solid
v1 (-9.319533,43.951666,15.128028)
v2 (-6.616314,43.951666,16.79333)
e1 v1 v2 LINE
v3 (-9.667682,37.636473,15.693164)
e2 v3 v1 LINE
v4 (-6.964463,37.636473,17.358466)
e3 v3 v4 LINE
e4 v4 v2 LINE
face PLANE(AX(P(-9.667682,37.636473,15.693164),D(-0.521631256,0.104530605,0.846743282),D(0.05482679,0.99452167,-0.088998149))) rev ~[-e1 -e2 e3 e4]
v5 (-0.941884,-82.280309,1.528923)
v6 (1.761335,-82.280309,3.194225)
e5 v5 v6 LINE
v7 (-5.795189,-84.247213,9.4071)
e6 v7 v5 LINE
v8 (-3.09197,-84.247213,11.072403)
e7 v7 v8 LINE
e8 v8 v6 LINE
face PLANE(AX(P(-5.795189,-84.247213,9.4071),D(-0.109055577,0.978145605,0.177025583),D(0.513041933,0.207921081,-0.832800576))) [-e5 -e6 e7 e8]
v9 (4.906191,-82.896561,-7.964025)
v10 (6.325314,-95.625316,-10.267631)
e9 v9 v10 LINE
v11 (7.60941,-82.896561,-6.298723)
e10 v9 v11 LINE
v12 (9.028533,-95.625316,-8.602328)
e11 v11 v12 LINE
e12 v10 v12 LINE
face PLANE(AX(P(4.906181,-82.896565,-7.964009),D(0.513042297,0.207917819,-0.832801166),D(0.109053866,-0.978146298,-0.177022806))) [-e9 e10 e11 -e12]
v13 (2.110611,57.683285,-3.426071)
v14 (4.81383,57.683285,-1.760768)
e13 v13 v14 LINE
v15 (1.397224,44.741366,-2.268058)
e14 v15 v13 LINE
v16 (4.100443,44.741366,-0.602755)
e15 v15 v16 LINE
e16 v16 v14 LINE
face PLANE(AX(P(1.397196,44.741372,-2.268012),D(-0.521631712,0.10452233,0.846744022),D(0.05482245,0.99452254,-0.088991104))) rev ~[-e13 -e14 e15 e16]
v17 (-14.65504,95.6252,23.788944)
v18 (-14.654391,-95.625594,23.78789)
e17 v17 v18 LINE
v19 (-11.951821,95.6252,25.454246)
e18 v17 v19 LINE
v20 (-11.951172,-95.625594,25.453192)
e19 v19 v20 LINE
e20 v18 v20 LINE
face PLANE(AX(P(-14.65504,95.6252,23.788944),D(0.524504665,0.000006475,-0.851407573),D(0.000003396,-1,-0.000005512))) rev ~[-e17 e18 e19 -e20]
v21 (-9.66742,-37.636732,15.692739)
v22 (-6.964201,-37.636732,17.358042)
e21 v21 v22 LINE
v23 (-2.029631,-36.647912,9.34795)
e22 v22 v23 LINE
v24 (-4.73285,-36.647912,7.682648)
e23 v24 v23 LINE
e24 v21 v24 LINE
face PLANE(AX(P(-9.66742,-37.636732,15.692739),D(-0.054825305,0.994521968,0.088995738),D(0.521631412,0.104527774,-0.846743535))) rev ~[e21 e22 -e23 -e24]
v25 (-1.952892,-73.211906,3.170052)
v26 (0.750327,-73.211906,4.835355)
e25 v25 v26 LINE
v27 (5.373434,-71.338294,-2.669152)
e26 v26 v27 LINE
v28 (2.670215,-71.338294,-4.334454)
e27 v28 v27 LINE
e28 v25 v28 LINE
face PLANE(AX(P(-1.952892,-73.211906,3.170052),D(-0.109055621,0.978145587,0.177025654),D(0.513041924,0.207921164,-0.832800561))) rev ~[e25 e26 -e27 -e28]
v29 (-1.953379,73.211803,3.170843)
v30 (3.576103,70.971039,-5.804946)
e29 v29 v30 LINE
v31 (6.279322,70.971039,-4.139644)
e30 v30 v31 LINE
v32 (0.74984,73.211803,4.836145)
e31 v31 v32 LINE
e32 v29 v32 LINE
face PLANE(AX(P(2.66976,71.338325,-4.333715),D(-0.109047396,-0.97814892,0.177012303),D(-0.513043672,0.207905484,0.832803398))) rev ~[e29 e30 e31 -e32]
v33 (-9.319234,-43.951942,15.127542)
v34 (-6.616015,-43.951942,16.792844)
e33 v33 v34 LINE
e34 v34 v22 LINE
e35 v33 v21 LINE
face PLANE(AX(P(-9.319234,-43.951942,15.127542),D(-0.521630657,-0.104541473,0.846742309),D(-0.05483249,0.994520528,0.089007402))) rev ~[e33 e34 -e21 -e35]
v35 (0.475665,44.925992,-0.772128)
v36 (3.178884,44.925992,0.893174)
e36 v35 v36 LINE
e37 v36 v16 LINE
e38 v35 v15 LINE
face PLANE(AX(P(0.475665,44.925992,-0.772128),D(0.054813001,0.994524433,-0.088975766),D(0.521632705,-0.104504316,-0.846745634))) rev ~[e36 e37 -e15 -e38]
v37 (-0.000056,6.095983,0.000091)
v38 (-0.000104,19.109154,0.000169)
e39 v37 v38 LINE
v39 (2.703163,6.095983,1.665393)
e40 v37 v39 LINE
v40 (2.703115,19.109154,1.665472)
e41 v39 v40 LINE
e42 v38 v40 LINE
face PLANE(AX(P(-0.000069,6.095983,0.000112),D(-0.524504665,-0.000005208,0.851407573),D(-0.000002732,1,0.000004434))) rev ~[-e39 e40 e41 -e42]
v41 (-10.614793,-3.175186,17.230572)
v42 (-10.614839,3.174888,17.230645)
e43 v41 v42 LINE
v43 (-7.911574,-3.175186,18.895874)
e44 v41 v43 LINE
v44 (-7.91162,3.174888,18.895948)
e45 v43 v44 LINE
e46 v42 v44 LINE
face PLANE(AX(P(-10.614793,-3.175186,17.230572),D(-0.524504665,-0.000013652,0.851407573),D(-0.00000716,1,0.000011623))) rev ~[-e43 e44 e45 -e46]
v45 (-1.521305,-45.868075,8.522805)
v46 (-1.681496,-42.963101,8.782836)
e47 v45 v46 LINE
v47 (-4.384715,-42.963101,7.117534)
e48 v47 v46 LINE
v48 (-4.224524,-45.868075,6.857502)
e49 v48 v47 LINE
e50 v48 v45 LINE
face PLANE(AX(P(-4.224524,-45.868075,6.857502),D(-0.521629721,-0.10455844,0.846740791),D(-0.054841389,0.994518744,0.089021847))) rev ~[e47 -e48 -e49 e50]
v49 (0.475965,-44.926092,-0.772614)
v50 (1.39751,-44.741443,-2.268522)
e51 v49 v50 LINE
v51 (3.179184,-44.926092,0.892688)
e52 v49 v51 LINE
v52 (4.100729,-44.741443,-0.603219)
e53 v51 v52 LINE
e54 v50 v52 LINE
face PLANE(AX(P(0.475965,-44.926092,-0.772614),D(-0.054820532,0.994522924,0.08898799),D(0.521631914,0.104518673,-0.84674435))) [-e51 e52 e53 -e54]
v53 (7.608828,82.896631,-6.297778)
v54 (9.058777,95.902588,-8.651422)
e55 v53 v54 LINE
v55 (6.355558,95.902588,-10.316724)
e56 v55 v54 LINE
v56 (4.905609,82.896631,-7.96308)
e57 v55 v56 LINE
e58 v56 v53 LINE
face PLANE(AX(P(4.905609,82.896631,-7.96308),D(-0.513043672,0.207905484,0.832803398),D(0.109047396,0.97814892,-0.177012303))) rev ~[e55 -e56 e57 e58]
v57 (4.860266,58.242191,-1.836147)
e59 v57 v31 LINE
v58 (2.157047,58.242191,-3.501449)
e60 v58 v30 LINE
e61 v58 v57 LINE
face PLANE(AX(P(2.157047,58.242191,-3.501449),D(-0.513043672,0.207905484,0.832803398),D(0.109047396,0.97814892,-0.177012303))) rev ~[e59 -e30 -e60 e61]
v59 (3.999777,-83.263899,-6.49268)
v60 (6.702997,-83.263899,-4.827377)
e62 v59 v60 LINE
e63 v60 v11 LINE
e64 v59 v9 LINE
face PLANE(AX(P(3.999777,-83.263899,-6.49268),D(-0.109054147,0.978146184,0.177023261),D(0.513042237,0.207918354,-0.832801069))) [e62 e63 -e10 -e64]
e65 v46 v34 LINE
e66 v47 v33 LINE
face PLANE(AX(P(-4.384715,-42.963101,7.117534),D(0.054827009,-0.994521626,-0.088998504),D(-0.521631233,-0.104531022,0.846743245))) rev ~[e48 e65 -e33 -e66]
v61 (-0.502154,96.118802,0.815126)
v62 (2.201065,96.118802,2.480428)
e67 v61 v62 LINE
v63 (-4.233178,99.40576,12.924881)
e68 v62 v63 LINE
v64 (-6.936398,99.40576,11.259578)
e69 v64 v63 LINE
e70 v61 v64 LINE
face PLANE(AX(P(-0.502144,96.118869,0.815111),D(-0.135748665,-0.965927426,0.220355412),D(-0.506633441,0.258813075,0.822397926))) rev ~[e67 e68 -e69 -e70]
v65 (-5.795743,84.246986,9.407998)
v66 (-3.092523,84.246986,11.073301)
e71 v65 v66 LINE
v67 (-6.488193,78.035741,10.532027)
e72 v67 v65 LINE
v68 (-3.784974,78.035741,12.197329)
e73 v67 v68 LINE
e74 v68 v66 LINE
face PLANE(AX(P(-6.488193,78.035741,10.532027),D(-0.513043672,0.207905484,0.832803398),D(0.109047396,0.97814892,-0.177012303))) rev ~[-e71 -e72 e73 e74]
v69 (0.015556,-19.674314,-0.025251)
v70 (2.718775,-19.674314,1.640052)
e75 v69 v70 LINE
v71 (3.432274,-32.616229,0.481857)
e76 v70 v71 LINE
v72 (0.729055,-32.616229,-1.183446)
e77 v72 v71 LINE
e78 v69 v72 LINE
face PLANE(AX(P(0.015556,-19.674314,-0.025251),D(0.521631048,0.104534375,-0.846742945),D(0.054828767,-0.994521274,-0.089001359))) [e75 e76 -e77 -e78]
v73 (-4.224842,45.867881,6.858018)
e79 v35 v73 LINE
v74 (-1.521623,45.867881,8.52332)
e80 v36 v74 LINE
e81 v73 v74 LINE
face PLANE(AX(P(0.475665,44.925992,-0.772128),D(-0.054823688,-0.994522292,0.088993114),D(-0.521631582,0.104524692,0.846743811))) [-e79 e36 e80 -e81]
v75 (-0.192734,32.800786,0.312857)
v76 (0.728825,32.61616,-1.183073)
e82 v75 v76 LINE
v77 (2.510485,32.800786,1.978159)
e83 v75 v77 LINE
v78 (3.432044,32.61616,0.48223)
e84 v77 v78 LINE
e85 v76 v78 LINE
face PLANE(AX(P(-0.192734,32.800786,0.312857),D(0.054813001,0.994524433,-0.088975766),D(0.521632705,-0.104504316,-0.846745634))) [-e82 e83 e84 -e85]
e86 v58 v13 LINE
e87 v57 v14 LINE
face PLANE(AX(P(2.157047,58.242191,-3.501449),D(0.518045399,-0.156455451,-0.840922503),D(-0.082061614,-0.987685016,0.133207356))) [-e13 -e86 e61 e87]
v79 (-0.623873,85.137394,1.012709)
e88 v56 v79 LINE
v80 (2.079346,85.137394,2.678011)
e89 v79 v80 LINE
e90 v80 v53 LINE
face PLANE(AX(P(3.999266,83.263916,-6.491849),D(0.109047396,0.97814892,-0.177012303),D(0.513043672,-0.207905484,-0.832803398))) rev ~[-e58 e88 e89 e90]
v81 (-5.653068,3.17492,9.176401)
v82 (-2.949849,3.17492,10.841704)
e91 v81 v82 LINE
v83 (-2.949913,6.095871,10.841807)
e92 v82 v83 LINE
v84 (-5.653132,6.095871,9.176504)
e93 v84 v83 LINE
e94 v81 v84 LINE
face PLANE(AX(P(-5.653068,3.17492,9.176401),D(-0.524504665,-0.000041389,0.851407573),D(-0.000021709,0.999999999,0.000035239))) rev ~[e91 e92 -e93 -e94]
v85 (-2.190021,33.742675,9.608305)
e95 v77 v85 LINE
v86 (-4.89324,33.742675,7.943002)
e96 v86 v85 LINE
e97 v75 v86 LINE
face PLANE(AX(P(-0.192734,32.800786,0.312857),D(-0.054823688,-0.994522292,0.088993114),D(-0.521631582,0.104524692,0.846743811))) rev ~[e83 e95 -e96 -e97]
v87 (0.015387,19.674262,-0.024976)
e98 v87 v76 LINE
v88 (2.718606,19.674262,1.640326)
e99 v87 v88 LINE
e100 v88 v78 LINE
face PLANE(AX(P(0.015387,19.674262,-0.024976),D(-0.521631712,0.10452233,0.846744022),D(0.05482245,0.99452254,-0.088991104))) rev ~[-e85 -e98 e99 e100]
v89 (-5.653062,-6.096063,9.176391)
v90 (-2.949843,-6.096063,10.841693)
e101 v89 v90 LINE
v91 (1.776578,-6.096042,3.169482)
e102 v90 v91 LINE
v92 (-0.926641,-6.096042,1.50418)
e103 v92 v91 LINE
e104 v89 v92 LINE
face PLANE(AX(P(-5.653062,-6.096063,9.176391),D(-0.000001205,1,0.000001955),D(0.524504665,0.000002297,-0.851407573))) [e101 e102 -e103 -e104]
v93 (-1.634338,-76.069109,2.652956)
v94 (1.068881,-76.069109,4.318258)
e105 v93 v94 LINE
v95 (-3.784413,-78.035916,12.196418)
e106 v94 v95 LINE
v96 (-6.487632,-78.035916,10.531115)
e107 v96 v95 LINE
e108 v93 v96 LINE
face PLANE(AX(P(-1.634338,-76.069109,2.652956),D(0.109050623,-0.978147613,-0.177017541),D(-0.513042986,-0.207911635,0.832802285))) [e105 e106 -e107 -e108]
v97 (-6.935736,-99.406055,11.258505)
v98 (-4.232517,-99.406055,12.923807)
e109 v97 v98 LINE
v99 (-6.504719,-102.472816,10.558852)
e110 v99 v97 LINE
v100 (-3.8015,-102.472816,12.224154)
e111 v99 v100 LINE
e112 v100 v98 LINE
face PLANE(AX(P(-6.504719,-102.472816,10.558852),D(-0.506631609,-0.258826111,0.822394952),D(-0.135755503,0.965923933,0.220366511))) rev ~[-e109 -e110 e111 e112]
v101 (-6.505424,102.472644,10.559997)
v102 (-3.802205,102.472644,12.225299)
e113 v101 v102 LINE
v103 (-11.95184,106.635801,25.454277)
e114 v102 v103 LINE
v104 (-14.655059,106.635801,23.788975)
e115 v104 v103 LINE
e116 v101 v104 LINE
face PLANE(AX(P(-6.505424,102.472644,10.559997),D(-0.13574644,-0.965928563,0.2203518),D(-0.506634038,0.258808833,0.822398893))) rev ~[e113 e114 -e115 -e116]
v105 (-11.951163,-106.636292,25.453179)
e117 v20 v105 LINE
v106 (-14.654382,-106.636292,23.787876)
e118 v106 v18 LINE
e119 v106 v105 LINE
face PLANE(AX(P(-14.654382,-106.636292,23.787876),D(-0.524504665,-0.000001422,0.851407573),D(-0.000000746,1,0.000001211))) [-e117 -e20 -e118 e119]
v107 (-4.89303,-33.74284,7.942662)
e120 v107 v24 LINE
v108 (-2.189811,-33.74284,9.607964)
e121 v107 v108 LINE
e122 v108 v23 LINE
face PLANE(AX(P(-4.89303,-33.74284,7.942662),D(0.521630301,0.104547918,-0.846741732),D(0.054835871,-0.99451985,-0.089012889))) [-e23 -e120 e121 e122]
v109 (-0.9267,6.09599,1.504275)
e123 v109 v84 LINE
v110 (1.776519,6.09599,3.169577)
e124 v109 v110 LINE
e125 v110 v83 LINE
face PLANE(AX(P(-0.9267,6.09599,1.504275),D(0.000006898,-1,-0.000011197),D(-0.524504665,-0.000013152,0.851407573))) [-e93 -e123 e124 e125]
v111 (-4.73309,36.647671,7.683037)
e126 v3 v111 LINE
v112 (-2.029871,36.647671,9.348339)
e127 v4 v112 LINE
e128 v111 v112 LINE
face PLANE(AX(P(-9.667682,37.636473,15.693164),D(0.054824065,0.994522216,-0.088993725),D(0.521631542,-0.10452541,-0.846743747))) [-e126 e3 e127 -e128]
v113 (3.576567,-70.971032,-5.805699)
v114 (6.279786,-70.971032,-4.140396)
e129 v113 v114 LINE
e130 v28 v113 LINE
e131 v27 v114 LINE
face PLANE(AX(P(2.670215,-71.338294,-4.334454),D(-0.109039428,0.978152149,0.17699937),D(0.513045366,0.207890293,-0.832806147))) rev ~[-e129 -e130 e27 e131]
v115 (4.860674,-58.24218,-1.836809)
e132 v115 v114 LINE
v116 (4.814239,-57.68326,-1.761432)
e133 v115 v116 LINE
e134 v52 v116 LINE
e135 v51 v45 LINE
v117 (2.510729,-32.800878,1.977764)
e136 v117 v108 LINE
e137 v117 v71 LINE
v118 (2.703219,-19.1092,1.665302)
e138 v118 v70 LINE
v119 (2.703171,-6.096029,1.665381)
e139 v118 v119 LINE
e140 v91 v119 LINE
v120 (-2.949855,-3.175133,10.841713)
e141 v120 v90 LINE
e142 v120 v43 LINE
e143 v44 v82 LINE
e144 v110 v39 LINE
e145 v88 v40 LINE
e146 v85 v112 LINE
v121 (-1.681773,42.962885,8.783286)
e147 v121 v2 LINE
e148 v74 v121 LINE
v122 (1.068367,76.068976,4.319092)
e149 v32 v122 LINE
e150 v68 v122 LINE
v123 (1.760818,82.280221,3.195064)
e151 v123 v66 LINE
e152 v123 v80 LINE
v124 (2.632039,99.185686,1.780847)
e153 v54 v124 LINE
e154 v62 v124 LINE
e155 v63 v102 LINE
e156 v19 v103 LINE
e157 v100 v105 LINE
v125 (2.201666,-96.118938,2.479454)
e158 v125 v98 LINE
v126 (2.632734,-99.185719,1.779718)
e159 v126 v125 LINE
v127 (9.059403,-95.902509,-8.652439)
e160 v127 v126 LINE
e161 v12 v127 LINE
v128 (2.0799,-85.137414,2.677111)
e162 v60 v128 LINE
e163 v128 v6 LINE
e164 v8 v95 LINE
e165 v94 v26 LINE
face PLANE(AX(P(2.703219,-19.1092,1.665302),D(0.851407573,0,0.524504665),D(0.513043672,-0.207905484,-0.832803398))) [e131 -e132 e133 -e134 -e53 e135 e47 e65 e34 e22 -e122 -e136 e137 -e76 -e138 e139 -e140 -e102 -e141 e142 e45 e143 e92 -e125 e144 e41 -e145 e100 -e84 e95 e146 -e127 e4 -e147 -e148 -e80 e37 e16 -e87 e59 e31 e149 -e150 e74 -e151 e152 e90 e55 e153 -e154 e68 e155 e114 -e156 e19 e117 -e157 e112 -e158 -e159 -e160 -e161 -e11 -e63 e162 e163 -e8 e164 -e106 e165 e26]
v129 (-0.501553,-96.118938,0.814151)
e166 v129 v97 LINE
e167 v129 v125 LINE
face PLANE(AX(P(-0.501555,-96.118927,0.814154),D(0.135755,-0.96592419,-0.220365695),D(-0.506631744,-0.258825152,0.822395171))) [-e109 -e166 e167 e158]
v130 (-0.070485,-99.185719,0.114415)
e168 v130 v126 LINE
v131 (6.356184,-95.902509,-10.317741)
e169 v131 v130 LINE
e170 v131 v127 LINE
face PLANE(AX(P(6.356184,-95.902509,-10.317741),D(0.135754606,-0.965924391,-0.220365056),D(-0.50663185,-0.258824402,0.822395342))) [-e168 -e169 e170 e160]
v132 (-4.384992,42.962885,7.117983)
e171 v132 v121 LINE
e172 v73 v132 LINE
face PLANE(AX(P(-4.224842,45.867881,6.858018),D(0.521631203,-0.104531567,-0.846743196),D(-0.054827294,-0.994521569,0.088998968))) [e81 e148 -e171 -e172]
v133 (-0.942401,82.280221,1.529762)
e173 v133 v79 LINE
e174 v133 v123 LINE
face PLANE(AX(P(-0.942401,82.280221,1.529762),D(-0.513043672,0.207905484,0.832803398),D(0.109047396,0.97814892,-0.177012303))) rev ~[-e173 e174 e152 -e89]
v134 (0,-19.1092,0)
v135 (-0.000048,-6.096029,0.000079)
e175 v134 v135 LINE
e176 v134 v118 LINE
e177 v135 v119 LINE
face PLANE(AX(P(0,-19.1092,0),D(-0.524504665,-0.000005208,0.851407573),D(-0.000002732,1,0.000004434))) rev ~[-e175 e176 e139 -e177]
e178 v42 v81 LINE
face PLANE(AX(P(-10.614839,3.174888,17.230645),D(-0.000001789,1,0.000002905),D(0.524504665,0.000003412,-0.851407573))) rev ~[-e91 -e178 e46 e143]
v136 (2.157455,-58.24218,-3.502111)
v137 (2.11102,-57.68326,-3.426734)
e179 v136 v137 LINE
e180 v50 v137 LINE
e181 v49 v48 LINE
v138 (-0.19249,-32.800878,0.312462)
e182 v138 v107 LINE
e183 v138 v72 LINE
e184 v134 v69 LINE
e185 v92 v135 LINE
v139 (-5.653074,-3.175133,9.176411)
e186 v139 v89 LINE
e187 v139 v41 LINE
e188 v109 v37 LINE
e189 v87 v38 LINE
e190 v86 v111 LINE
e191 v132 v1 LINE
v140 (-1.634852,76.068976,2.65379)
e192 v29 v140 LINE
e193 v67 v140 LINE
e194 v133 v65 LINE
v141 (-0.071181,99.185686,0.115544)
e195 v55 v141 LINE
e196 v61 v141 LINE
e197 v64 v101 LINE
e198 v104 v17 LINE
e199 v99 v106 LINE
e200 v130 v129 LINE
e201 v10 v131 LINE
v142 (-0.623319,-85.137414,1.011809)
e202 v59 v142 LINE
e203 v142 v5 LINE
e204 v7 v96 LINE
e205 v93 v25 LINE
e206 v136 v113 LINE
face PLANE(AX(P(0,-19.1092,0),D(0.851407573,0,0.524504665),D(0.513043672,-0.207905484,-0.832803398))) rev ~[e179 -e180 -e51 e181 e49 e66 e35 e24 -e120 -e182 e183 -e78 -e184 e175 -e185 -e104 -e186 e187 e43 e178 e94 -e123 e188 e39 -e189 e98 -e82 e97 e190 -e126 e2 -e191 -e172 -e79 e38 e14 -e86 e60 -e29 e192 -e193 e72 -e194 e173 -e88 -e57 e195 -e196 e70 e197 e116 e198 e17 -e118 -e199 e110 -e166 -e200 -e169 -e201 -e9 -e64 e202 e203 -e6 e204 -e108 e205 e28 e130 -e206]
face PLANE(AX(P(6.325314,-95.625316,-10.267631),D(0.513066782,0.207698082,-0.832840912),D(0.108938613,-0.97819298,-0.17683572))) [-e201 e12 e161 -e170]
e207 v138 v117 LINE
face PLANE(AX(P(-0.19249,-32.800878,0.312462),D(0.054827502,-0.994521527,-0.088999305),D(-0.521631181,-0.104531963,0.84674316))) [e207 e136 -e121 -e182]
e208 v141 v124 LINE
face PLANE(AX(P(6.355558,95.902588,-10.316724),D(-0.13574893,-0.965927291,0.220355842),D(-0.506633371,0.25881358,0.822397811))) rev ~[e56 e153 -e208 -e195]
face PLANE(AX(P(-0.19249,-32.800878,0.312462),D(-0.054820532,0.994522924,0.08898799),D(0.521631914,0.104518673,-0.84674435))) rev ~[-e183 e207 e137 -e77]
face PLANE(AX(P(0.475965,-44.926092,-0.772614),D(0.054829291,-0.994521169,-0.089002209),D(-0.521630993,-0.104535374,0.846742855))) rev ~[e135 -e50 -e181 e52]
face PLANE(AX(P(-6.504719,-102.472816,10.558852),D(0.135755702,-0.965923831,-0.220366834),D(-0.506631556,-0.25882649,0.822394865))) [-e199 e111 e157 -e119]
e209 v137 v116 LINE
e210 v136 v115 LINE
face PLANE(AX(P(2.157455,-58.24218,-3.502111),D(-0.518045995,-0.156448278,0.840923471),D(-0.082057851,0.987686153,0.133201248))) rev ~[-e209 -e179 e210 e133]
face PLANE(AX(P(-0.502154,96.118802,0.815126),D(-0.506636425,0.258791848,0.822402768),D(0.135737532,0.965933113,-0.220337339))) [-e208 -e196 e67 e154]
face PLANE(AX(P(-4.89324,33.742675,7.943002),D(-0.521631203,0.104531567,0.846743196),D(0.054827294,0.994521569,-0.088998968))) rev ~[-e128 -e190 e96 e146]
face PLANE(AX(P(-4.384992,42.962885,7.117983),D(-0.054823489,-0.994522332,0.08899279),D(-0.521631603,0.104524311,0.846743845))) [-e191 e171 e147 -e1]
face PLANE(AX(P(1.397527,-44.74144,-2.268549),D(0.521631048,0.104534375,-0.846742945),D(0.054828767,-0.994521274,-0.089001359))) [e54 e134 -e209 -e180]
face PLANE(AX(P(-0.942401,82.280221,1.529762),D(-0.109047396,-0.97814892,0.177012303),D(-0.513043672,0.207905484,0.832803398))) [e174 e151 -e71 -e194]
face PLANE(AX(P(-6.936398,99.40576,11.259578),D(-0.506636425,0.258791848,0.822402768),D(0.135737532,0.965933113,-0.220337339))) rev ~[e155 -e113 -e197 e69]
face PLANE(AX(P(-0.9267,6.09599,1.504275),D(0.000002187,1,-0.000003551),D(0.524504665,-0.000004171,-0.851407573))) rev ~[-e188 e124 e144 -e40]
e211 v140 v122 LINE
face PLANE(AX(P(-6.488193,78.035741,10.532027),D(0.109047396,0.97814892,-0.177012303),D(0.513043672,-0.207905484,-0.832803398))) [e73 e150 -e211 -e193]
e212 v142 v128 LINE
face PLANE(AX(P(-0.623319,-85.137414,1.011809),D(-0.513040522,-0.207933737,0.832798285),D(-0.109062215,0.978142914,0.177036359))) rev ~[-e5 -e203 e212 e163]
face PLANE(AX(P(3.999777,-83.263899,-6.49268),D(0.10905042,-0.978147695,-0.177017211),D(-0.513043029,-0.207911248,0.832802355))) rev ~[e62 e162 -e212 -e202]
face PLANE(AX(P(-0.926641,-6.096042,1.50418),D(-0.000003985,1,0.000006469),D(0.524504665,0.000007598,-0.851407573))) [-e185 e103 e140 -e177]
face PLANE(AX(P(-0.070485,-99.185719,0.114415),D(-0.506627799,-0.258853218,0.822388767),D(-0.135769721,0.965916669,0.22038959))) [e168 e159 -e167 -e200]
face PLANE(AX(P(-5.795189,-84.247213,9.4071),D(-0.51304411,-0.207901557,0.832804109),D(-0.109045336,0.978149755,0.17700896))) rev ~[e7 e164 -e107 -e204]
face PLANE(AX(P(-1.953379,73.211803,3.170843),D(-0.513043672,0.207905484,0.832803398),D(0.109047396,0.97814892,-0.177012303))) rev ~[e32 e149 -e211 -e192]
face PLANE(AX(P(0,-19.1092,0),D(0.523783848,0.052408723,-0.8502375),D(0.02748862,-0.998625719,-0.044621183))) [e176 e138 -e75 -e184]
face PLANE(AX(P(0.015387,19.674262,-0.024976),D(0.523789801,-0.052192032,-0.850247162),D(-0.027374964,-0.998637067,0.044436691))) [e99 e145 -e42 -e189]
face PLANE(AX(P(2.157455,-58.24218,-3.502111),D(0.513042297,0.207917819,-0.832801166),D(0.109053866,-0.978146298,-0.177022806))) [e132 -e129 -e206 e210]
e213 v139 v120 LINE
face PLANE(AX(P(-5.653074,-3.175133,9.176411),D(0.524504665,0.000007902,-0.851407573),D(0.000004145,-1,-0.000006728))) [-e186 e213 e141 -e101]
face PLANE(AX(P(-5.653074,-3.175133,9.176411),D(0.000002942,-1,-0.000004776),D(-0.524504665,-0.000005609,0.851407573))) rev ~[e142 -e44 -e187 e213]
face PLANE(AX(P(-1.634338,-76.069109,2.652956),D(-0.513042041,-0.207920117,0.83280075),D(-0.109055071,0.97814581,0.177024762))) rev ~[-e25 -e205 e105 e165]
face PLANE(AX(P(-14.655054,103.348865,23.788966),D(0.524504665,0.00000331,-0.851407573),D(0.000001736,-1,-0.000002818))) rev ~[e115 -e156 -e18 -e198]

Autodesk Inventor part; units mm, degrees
ref_plane "YZ Plane" through (0, 0, 0) normal (1, 0, 0) x (0, 1, 0)
ref_plane "XZ Plane" through (0, 0, 0) normal (0, 1, 0) x (-1, 0, 0)
ref_plane "Work Plane2" through (0, -19.1092, 0) normal (0.8514, 0, 0.5245) x (0.513, -0.2079, -0.8328)
ref_plane "Work Plane1" through (99.2081, 0, -373.4906) normal (0.8514, 0, 0.5245) x (0.513, -0.2079, -0.8328)
sketch "Sketch1" plane through (0, -19.1092, 0) normal (0.8514, 0, 0.5245) x (0.513, -0.2079, -0.8328)
  line L0 (-64.4031, -17.2568) -> (64.4031, 17.2568) construction
  line L1 (57.9081, 47.8134) -> (-73.8002, 26.9529) construction
  line L2 (-73.8887, 27.5118) -> (57.8196, 48.3724) construction
  line L3 (54.5542, 79.4406) -> (-78.6131, 72.4616) construction
  line L4 (-78.6427, 73.0267) -> (54.5245, 80.0057) construction
  line L5 (54.5245, 111.2451) -> (-78.6427, 118.2241) construction
  line L6 (64.5496, 16.7101) -> (-64.2566, -17.8034) construction
  line L7 (-50.2899, -60.7886) -> (74.2031, -13.0002) construction
  line L8 (-31.7037, -102.6067) -> (87.112, -42.0671) construction
  line L9 (74.4059, -13.5286) -> (-50.0871, -61.3169) construction
  line L10 (0.1465, -0.5466) -> (11.9566, -36.8944)
  line L11 (12.1594, -37.4227) -> (11.9566, -36.8944)
  line L12 (0, 0) -> (0.1465, -0.5466)
  line L13 (0, 0) -> (-7.946, 37.3832)
  line L14 (-8.0346, 37.9421) -> (-7.946, 37.3832)
  line L15 (12.1594, -37.4227) -> (27.7042, -72.3369)
  line L16 (-8.0346, 37.9421) -> (-12.0295, 75.9511)
  line L17 (-12.0591, 76.5162) -> (-12.0591, 114.7346)
  line L18 (-12.0591, 114.7346) -> (-51.1841, 106.4183)
  line L19 (-51.1841, 106.4183) -> (-11.4208, -80.6532)
  line L20 (-11.4208, -80.6532) -> (27.7042, -72.3369)
  line L21 (-12.0591, 76.5162) -> (-12.0295, 75.9511)
  line L22 (-5.7011, 18.3243) -> (-6.9685, 24.2871)
  line L23 (-5.7011, 18.3243) -> (-4.4336, 12.3615)
  line L24 (-6.9685, 24.2871) -> (-15.7828, 22.4135)
  line L25 (-13.2479, 10.488) -> (-4.4336, 12.3615)
  line L26 (-13.8552, 13.3451) -> (-15.1754, 19.5564) projected
  line L27 (-15.1754, 19.5564) -> (-15.7828, 22.4135)
  line L28 (-13.8552, 13.3451) -> (-13.2479, 10.488)
  line L29 (-23.1083, 11.3783) -> (-24.4286, 17.5896) projected
  line L30 (-24.4286, 17.5896) -> (-15.1754, 19.5564)
  line L31 (-13.8552, 13.3451) -> (-23.1083, 11.3783)
  line L32 (2.7351, -66.0118) -> (0.1524, -60.2107) projected
  line L33 (-12.2145, -27.9939) -> (-14.1768, -21.9547) projected
  line L34 (-29.827, 51.6736) -> (-30.4907, 57.9888) projected
  line L35 (-32.2968, 92.4504) -> (-32.2968, 98.8004) projected
  line L36 (-3.2177, -25.0707) -> (-5.1799, -19.0315) projected
  line L37 (11.3771, -62.1641) -> (8.7944, -56.3631) projected
  line L38 (-20.4189, 52.6624) -> (-21.0827, 58.9776) projected
  line L39 (-22.8369, 92.4504) -> (-22.8369, 98.8004) projected
  line L40 (2.7351, -66.0118) -> (11.3771, -62.1641)
  line L41 (8.7944, -56.3631) -> (0.1524, -60.2107)
  line L42 (-3.2177, -25.0707) -> (-12.2145, -27.9939)
  line L43 (-14.1768, -21.9547) -> (-5.1799, -19.0315)
  line L44 (-29.827, 51.6736) -> (-20.4189, 52.6624)
  line L45 (-21.0827, 58.9776) -> (-30.4907, 57.9888)
  line L46 (-32.2968, 92.4504) -> (-22.8369, 92.4504)
  line L47 (-22.8369, 98.8004) -> (-32.2968, 98.8004)
  line L48 (5.3525, -22.2861) -> (6.2551, -25.0641)
  line L49 (6.2551, -25.0641) -> (-2.315, -27.8487)
  line L50 (-2.315, -27.8487) -> (-3.2177, -25.0707)
  line L51 (3.3902, -16.2468) -> (2.4876, -13.4688)
  line L52 (2.4876, -13.4688) -> (-6.0826, -16.2534)
  line L53 (-6.0826, -16.2534) -> (-5.1799, -19.0315)
  line L54 (19.6093, -58.4989) -> (20.7973, -61.1674)
  line L55 (20.7973, -61.1674) -> (12.5652, -64.8325)
  line L56 (8.7944, -56.3631) -> (7.6063, -53.6946)
  line L57 (7.6063, -53.6946) -> (15.8384, -50.0294)
  line L58 (15.8384, -50.0294) -> (17.0265, -52.6979)
  line L59 (12.5652, -64.8325) -> (11.3771, -62.1641)
  line L60 (-11.4571, 53.6043) -> (-11.1518, 50.6993)
  line L61 (-11.1518, 50.6993) -> (-20.1136, 49.7574)
  line L62 (-20.1136, 49.7574) -> (-20.4189, 52.6624)
  line L63 (-12.1209, 59.9195) -> (-12.4262, 62.8245)
  line L64 (-12.4262, 62.8245) -> (-21.388, 61.8826)
  line L65 (-21.388, 61.8826) -> (-21.0827, 58.9776)
  line L66 (-13.8257, 92.4504) -> (-13.8257, 89.5294)
  line L67 (-13.8257, 89.5294) -> (-22.8369, 89.5294)
  line L68 (-22.8369, 89.5294) -> (-22.8369, 92.4504)
  line L69 (-22.8369, 98.8004) -> (-22.8369, 101.7214)
  line L70 (-22.8369, 101.7214) -> (-13.8257, 101.7214)
  line L71 (-13.8257, 101.7214) -> (-13.8257, 98.8004)
  line L72 (8.7177, -21.1926) -> (5.3525, -22.2861) projected
  line L73 (6.7555, -15.1534) -> (3.3902, -16.2468) projected
  line L74 (-10.2873, 92.4504) -> (-13.8257, 92.4504) projected
  line L75 (-10.2873, 98.8004) -> (-13.8257, 98.8004) projected
  line L76 (-7.938, 53.9742) -> (-11.4571, 53.6043) projected
  line L77 (-8.6018, 60.2894) -> (-12.1209, 59.9195) projected
  line L78 (22.8418, -57.0597) -> (19.6093, -58.4989) projected
  line L79 (20.259, -51.2587) -> (17.0265, -52.6979) projected
  line L80 (-13.8257, 101.7214) -> (-12.0591, 101.7214)
  line L81 (-13.8257, 89.5294) -> (-12.0591, 89.5294)
  line L82 (-12.4262, 62.8245) -> (-10.6692, 63.0092)
  line L83 (-11.1518, 50.6993) -> (-9.3948, 50.884)
  line L84 (-6.9685, 24.2871) -> (-5.2404, 24.6544)
  line L85 (-4.4336, 12.3615) -> (-2.7056, 12.7288)
  line L86 (2.4876, -13.4688) -> (4.1678, -12.9229)
  line L87 (6.2551, -25.0641) -> (7.9353, -24.5182)
  line L88 (15.8384, -50.0294) -> (17.4523, -49.3109)
  line L89 (20.7973, -61.1674) -> (22.4113, -60.4488)
  line L90 (-1.5798, 15.9543) -> (-5.041, 15.2187) projected
  line L91 (-5.041, 15.2187) -> (-6.3612, 21.4299) projected
  line L92 (-2.9001, 22.1656) -> (-6.3612, 21.4299) projected
  line L93 (-1.5798, 15.9543) -> (-2.9001, 22.1656) projected
  line L94 (-13.8257, 92.4504) -> (-13.8257, 98.8004) projected
  line L95 (-10.2873, 92.4504) -> (-10.2873, 98.8004) projected
  line L96 (-11.4571, 53.6043) -> (-12.1209, 59.9195) projected
  line L97 (-7.938, 53.9742) -> (-8.6018, 60.2894) projected
  line L98 (5.3525, -22.2861) -> (3.3902, -16.2468) projected
  line L99 (8.7177, -21.1926) -> (6.7555, -15.1534) projected
  line L100 (19.6093, -58.4989) -> (17.0265, -52.6979) projected
  line L101 (22.8418, -57.0597) -> (20.259, -51.2587) projected
  point P0 (-13.8697, 13.4133)
  point P1 (4.3713, -19.2665)
  point P2 (18.3179, -55.5984)
  point P3 (-11.789, 56.7619)
  point P4 (-13.8257, 95.6254)
  dimension "d0" = 27.94
  dimension "d16" = 6.096
  dimension "d17" = 6.096
  dimension "d20" = 6.096
  dimension "d21" = 6.096
  dimension "d22" = 6.096
  dimension "d23" = 6.096
  dimension "d24" = 6.096
  dimension "d25" = 6.096
  dimension "d26" = 6.096
  dimension "d27" = 6.096
extrude "Extrusion1" add sketch "Sketch1" along normal blind 3.175 contours L10 L86 L52 L53 L43 L33 L42 L50 L49 L87 L11 L15 L88 L57 L56 L41 L32 L40 L59 L55 L89 L20 L19 L18 L17 L80 L70 L69 L47 L35 L46 L68 L67 L81 L21 L16 L82 L64 L65 L45 L34 L44 L62 L61 L83 L14 L13 L84 L24 L27 L30 L29 L31 L28 L25 L85 L12
sketch "Sketch3" plane through (0, -19.1092, 0) normal (-0.8514, 0, -0.5245) x (-0.513, 0.2079, 0.8328)
  line L0 (-5.2011, -84.1204) -> (-3.7597, -81.2915) projected
  line L1 (-16.5169, -78.3547) -> (-15.0754, -75.5258) projected
  line L2 (-26.3912, -69.7601) -> (32.4461, -99.7392) projected
  line L3 (11.4208, -80.6532) -> (-27.7042, -72.3369) projected
  line L4 (-27.7042, -72.3369) -> (-27.8194, -72.5958)
  line L5 (-27.8194, -72.5958) -> (-16.5169, -78.3547)
  line L6 (-5.2011, -84.1204) -> (9.1316, -91.4233)
  line L7 (9.1316, -91.4233) -> (11.4208, -80.6532)
  line L8 (51.1841, 106.4183) -> (11.4208, -80.6532) projected
  line L9 (-27.7042, -72.3369) -> (-12.1594, -37.4227) projected
  line L10 (37.5756, 113.1758) -> (37.4095, 116.3465) projected
  line L11 (24.893, 112.5111) -> (24.7269, 115.6818) projected
  line L12 (12.2104, 111.8465) -> (78.1546, 115.3025) projected
  line L13 (37.4095, 116.3465) -> (53.4733, 117.1883)
  line L14 (53.4733, 117.1883) -> (51.1841, 106.4183)
  line L15 (12.0591, 76.5162) -> (12.0591, 114.7346) projected
  line L16 (12.0591, 114.7346) -> (12.0591, 115.0179)
  line L17 (12.0591, 115.0179) -> (24.7269, 115.6818)
  line L18 (12.0591, 76.5162) -> (12.0591, 114.7346) projected
  line L19 (12.0591, 114.7346) -> (51.1841, 106.4183) projected
  point P0 (3.973, 18.6916)
  point P1 (-3.7597, -81.2915)
  point P2 (37.5756, 113.1758)
  point P3 (24.893, 112.5111)
extrude "Extrusion2" add sketch "Sketch3" against normal blind 3.175
equation "\"d17\" = d16"
equation "\"d20\" = d16"
equation "\"d21\" = d16"
equation "\"d22\" = d16"
equation "\"d23\" = d16"
equation "\"d24\" = d16"
equation "\"d25\" = d16"
equation "\"d26\" = d16"
equation "\"d27\" = d16"
properties part number "Center Plate" material "Aluminum 6061"
